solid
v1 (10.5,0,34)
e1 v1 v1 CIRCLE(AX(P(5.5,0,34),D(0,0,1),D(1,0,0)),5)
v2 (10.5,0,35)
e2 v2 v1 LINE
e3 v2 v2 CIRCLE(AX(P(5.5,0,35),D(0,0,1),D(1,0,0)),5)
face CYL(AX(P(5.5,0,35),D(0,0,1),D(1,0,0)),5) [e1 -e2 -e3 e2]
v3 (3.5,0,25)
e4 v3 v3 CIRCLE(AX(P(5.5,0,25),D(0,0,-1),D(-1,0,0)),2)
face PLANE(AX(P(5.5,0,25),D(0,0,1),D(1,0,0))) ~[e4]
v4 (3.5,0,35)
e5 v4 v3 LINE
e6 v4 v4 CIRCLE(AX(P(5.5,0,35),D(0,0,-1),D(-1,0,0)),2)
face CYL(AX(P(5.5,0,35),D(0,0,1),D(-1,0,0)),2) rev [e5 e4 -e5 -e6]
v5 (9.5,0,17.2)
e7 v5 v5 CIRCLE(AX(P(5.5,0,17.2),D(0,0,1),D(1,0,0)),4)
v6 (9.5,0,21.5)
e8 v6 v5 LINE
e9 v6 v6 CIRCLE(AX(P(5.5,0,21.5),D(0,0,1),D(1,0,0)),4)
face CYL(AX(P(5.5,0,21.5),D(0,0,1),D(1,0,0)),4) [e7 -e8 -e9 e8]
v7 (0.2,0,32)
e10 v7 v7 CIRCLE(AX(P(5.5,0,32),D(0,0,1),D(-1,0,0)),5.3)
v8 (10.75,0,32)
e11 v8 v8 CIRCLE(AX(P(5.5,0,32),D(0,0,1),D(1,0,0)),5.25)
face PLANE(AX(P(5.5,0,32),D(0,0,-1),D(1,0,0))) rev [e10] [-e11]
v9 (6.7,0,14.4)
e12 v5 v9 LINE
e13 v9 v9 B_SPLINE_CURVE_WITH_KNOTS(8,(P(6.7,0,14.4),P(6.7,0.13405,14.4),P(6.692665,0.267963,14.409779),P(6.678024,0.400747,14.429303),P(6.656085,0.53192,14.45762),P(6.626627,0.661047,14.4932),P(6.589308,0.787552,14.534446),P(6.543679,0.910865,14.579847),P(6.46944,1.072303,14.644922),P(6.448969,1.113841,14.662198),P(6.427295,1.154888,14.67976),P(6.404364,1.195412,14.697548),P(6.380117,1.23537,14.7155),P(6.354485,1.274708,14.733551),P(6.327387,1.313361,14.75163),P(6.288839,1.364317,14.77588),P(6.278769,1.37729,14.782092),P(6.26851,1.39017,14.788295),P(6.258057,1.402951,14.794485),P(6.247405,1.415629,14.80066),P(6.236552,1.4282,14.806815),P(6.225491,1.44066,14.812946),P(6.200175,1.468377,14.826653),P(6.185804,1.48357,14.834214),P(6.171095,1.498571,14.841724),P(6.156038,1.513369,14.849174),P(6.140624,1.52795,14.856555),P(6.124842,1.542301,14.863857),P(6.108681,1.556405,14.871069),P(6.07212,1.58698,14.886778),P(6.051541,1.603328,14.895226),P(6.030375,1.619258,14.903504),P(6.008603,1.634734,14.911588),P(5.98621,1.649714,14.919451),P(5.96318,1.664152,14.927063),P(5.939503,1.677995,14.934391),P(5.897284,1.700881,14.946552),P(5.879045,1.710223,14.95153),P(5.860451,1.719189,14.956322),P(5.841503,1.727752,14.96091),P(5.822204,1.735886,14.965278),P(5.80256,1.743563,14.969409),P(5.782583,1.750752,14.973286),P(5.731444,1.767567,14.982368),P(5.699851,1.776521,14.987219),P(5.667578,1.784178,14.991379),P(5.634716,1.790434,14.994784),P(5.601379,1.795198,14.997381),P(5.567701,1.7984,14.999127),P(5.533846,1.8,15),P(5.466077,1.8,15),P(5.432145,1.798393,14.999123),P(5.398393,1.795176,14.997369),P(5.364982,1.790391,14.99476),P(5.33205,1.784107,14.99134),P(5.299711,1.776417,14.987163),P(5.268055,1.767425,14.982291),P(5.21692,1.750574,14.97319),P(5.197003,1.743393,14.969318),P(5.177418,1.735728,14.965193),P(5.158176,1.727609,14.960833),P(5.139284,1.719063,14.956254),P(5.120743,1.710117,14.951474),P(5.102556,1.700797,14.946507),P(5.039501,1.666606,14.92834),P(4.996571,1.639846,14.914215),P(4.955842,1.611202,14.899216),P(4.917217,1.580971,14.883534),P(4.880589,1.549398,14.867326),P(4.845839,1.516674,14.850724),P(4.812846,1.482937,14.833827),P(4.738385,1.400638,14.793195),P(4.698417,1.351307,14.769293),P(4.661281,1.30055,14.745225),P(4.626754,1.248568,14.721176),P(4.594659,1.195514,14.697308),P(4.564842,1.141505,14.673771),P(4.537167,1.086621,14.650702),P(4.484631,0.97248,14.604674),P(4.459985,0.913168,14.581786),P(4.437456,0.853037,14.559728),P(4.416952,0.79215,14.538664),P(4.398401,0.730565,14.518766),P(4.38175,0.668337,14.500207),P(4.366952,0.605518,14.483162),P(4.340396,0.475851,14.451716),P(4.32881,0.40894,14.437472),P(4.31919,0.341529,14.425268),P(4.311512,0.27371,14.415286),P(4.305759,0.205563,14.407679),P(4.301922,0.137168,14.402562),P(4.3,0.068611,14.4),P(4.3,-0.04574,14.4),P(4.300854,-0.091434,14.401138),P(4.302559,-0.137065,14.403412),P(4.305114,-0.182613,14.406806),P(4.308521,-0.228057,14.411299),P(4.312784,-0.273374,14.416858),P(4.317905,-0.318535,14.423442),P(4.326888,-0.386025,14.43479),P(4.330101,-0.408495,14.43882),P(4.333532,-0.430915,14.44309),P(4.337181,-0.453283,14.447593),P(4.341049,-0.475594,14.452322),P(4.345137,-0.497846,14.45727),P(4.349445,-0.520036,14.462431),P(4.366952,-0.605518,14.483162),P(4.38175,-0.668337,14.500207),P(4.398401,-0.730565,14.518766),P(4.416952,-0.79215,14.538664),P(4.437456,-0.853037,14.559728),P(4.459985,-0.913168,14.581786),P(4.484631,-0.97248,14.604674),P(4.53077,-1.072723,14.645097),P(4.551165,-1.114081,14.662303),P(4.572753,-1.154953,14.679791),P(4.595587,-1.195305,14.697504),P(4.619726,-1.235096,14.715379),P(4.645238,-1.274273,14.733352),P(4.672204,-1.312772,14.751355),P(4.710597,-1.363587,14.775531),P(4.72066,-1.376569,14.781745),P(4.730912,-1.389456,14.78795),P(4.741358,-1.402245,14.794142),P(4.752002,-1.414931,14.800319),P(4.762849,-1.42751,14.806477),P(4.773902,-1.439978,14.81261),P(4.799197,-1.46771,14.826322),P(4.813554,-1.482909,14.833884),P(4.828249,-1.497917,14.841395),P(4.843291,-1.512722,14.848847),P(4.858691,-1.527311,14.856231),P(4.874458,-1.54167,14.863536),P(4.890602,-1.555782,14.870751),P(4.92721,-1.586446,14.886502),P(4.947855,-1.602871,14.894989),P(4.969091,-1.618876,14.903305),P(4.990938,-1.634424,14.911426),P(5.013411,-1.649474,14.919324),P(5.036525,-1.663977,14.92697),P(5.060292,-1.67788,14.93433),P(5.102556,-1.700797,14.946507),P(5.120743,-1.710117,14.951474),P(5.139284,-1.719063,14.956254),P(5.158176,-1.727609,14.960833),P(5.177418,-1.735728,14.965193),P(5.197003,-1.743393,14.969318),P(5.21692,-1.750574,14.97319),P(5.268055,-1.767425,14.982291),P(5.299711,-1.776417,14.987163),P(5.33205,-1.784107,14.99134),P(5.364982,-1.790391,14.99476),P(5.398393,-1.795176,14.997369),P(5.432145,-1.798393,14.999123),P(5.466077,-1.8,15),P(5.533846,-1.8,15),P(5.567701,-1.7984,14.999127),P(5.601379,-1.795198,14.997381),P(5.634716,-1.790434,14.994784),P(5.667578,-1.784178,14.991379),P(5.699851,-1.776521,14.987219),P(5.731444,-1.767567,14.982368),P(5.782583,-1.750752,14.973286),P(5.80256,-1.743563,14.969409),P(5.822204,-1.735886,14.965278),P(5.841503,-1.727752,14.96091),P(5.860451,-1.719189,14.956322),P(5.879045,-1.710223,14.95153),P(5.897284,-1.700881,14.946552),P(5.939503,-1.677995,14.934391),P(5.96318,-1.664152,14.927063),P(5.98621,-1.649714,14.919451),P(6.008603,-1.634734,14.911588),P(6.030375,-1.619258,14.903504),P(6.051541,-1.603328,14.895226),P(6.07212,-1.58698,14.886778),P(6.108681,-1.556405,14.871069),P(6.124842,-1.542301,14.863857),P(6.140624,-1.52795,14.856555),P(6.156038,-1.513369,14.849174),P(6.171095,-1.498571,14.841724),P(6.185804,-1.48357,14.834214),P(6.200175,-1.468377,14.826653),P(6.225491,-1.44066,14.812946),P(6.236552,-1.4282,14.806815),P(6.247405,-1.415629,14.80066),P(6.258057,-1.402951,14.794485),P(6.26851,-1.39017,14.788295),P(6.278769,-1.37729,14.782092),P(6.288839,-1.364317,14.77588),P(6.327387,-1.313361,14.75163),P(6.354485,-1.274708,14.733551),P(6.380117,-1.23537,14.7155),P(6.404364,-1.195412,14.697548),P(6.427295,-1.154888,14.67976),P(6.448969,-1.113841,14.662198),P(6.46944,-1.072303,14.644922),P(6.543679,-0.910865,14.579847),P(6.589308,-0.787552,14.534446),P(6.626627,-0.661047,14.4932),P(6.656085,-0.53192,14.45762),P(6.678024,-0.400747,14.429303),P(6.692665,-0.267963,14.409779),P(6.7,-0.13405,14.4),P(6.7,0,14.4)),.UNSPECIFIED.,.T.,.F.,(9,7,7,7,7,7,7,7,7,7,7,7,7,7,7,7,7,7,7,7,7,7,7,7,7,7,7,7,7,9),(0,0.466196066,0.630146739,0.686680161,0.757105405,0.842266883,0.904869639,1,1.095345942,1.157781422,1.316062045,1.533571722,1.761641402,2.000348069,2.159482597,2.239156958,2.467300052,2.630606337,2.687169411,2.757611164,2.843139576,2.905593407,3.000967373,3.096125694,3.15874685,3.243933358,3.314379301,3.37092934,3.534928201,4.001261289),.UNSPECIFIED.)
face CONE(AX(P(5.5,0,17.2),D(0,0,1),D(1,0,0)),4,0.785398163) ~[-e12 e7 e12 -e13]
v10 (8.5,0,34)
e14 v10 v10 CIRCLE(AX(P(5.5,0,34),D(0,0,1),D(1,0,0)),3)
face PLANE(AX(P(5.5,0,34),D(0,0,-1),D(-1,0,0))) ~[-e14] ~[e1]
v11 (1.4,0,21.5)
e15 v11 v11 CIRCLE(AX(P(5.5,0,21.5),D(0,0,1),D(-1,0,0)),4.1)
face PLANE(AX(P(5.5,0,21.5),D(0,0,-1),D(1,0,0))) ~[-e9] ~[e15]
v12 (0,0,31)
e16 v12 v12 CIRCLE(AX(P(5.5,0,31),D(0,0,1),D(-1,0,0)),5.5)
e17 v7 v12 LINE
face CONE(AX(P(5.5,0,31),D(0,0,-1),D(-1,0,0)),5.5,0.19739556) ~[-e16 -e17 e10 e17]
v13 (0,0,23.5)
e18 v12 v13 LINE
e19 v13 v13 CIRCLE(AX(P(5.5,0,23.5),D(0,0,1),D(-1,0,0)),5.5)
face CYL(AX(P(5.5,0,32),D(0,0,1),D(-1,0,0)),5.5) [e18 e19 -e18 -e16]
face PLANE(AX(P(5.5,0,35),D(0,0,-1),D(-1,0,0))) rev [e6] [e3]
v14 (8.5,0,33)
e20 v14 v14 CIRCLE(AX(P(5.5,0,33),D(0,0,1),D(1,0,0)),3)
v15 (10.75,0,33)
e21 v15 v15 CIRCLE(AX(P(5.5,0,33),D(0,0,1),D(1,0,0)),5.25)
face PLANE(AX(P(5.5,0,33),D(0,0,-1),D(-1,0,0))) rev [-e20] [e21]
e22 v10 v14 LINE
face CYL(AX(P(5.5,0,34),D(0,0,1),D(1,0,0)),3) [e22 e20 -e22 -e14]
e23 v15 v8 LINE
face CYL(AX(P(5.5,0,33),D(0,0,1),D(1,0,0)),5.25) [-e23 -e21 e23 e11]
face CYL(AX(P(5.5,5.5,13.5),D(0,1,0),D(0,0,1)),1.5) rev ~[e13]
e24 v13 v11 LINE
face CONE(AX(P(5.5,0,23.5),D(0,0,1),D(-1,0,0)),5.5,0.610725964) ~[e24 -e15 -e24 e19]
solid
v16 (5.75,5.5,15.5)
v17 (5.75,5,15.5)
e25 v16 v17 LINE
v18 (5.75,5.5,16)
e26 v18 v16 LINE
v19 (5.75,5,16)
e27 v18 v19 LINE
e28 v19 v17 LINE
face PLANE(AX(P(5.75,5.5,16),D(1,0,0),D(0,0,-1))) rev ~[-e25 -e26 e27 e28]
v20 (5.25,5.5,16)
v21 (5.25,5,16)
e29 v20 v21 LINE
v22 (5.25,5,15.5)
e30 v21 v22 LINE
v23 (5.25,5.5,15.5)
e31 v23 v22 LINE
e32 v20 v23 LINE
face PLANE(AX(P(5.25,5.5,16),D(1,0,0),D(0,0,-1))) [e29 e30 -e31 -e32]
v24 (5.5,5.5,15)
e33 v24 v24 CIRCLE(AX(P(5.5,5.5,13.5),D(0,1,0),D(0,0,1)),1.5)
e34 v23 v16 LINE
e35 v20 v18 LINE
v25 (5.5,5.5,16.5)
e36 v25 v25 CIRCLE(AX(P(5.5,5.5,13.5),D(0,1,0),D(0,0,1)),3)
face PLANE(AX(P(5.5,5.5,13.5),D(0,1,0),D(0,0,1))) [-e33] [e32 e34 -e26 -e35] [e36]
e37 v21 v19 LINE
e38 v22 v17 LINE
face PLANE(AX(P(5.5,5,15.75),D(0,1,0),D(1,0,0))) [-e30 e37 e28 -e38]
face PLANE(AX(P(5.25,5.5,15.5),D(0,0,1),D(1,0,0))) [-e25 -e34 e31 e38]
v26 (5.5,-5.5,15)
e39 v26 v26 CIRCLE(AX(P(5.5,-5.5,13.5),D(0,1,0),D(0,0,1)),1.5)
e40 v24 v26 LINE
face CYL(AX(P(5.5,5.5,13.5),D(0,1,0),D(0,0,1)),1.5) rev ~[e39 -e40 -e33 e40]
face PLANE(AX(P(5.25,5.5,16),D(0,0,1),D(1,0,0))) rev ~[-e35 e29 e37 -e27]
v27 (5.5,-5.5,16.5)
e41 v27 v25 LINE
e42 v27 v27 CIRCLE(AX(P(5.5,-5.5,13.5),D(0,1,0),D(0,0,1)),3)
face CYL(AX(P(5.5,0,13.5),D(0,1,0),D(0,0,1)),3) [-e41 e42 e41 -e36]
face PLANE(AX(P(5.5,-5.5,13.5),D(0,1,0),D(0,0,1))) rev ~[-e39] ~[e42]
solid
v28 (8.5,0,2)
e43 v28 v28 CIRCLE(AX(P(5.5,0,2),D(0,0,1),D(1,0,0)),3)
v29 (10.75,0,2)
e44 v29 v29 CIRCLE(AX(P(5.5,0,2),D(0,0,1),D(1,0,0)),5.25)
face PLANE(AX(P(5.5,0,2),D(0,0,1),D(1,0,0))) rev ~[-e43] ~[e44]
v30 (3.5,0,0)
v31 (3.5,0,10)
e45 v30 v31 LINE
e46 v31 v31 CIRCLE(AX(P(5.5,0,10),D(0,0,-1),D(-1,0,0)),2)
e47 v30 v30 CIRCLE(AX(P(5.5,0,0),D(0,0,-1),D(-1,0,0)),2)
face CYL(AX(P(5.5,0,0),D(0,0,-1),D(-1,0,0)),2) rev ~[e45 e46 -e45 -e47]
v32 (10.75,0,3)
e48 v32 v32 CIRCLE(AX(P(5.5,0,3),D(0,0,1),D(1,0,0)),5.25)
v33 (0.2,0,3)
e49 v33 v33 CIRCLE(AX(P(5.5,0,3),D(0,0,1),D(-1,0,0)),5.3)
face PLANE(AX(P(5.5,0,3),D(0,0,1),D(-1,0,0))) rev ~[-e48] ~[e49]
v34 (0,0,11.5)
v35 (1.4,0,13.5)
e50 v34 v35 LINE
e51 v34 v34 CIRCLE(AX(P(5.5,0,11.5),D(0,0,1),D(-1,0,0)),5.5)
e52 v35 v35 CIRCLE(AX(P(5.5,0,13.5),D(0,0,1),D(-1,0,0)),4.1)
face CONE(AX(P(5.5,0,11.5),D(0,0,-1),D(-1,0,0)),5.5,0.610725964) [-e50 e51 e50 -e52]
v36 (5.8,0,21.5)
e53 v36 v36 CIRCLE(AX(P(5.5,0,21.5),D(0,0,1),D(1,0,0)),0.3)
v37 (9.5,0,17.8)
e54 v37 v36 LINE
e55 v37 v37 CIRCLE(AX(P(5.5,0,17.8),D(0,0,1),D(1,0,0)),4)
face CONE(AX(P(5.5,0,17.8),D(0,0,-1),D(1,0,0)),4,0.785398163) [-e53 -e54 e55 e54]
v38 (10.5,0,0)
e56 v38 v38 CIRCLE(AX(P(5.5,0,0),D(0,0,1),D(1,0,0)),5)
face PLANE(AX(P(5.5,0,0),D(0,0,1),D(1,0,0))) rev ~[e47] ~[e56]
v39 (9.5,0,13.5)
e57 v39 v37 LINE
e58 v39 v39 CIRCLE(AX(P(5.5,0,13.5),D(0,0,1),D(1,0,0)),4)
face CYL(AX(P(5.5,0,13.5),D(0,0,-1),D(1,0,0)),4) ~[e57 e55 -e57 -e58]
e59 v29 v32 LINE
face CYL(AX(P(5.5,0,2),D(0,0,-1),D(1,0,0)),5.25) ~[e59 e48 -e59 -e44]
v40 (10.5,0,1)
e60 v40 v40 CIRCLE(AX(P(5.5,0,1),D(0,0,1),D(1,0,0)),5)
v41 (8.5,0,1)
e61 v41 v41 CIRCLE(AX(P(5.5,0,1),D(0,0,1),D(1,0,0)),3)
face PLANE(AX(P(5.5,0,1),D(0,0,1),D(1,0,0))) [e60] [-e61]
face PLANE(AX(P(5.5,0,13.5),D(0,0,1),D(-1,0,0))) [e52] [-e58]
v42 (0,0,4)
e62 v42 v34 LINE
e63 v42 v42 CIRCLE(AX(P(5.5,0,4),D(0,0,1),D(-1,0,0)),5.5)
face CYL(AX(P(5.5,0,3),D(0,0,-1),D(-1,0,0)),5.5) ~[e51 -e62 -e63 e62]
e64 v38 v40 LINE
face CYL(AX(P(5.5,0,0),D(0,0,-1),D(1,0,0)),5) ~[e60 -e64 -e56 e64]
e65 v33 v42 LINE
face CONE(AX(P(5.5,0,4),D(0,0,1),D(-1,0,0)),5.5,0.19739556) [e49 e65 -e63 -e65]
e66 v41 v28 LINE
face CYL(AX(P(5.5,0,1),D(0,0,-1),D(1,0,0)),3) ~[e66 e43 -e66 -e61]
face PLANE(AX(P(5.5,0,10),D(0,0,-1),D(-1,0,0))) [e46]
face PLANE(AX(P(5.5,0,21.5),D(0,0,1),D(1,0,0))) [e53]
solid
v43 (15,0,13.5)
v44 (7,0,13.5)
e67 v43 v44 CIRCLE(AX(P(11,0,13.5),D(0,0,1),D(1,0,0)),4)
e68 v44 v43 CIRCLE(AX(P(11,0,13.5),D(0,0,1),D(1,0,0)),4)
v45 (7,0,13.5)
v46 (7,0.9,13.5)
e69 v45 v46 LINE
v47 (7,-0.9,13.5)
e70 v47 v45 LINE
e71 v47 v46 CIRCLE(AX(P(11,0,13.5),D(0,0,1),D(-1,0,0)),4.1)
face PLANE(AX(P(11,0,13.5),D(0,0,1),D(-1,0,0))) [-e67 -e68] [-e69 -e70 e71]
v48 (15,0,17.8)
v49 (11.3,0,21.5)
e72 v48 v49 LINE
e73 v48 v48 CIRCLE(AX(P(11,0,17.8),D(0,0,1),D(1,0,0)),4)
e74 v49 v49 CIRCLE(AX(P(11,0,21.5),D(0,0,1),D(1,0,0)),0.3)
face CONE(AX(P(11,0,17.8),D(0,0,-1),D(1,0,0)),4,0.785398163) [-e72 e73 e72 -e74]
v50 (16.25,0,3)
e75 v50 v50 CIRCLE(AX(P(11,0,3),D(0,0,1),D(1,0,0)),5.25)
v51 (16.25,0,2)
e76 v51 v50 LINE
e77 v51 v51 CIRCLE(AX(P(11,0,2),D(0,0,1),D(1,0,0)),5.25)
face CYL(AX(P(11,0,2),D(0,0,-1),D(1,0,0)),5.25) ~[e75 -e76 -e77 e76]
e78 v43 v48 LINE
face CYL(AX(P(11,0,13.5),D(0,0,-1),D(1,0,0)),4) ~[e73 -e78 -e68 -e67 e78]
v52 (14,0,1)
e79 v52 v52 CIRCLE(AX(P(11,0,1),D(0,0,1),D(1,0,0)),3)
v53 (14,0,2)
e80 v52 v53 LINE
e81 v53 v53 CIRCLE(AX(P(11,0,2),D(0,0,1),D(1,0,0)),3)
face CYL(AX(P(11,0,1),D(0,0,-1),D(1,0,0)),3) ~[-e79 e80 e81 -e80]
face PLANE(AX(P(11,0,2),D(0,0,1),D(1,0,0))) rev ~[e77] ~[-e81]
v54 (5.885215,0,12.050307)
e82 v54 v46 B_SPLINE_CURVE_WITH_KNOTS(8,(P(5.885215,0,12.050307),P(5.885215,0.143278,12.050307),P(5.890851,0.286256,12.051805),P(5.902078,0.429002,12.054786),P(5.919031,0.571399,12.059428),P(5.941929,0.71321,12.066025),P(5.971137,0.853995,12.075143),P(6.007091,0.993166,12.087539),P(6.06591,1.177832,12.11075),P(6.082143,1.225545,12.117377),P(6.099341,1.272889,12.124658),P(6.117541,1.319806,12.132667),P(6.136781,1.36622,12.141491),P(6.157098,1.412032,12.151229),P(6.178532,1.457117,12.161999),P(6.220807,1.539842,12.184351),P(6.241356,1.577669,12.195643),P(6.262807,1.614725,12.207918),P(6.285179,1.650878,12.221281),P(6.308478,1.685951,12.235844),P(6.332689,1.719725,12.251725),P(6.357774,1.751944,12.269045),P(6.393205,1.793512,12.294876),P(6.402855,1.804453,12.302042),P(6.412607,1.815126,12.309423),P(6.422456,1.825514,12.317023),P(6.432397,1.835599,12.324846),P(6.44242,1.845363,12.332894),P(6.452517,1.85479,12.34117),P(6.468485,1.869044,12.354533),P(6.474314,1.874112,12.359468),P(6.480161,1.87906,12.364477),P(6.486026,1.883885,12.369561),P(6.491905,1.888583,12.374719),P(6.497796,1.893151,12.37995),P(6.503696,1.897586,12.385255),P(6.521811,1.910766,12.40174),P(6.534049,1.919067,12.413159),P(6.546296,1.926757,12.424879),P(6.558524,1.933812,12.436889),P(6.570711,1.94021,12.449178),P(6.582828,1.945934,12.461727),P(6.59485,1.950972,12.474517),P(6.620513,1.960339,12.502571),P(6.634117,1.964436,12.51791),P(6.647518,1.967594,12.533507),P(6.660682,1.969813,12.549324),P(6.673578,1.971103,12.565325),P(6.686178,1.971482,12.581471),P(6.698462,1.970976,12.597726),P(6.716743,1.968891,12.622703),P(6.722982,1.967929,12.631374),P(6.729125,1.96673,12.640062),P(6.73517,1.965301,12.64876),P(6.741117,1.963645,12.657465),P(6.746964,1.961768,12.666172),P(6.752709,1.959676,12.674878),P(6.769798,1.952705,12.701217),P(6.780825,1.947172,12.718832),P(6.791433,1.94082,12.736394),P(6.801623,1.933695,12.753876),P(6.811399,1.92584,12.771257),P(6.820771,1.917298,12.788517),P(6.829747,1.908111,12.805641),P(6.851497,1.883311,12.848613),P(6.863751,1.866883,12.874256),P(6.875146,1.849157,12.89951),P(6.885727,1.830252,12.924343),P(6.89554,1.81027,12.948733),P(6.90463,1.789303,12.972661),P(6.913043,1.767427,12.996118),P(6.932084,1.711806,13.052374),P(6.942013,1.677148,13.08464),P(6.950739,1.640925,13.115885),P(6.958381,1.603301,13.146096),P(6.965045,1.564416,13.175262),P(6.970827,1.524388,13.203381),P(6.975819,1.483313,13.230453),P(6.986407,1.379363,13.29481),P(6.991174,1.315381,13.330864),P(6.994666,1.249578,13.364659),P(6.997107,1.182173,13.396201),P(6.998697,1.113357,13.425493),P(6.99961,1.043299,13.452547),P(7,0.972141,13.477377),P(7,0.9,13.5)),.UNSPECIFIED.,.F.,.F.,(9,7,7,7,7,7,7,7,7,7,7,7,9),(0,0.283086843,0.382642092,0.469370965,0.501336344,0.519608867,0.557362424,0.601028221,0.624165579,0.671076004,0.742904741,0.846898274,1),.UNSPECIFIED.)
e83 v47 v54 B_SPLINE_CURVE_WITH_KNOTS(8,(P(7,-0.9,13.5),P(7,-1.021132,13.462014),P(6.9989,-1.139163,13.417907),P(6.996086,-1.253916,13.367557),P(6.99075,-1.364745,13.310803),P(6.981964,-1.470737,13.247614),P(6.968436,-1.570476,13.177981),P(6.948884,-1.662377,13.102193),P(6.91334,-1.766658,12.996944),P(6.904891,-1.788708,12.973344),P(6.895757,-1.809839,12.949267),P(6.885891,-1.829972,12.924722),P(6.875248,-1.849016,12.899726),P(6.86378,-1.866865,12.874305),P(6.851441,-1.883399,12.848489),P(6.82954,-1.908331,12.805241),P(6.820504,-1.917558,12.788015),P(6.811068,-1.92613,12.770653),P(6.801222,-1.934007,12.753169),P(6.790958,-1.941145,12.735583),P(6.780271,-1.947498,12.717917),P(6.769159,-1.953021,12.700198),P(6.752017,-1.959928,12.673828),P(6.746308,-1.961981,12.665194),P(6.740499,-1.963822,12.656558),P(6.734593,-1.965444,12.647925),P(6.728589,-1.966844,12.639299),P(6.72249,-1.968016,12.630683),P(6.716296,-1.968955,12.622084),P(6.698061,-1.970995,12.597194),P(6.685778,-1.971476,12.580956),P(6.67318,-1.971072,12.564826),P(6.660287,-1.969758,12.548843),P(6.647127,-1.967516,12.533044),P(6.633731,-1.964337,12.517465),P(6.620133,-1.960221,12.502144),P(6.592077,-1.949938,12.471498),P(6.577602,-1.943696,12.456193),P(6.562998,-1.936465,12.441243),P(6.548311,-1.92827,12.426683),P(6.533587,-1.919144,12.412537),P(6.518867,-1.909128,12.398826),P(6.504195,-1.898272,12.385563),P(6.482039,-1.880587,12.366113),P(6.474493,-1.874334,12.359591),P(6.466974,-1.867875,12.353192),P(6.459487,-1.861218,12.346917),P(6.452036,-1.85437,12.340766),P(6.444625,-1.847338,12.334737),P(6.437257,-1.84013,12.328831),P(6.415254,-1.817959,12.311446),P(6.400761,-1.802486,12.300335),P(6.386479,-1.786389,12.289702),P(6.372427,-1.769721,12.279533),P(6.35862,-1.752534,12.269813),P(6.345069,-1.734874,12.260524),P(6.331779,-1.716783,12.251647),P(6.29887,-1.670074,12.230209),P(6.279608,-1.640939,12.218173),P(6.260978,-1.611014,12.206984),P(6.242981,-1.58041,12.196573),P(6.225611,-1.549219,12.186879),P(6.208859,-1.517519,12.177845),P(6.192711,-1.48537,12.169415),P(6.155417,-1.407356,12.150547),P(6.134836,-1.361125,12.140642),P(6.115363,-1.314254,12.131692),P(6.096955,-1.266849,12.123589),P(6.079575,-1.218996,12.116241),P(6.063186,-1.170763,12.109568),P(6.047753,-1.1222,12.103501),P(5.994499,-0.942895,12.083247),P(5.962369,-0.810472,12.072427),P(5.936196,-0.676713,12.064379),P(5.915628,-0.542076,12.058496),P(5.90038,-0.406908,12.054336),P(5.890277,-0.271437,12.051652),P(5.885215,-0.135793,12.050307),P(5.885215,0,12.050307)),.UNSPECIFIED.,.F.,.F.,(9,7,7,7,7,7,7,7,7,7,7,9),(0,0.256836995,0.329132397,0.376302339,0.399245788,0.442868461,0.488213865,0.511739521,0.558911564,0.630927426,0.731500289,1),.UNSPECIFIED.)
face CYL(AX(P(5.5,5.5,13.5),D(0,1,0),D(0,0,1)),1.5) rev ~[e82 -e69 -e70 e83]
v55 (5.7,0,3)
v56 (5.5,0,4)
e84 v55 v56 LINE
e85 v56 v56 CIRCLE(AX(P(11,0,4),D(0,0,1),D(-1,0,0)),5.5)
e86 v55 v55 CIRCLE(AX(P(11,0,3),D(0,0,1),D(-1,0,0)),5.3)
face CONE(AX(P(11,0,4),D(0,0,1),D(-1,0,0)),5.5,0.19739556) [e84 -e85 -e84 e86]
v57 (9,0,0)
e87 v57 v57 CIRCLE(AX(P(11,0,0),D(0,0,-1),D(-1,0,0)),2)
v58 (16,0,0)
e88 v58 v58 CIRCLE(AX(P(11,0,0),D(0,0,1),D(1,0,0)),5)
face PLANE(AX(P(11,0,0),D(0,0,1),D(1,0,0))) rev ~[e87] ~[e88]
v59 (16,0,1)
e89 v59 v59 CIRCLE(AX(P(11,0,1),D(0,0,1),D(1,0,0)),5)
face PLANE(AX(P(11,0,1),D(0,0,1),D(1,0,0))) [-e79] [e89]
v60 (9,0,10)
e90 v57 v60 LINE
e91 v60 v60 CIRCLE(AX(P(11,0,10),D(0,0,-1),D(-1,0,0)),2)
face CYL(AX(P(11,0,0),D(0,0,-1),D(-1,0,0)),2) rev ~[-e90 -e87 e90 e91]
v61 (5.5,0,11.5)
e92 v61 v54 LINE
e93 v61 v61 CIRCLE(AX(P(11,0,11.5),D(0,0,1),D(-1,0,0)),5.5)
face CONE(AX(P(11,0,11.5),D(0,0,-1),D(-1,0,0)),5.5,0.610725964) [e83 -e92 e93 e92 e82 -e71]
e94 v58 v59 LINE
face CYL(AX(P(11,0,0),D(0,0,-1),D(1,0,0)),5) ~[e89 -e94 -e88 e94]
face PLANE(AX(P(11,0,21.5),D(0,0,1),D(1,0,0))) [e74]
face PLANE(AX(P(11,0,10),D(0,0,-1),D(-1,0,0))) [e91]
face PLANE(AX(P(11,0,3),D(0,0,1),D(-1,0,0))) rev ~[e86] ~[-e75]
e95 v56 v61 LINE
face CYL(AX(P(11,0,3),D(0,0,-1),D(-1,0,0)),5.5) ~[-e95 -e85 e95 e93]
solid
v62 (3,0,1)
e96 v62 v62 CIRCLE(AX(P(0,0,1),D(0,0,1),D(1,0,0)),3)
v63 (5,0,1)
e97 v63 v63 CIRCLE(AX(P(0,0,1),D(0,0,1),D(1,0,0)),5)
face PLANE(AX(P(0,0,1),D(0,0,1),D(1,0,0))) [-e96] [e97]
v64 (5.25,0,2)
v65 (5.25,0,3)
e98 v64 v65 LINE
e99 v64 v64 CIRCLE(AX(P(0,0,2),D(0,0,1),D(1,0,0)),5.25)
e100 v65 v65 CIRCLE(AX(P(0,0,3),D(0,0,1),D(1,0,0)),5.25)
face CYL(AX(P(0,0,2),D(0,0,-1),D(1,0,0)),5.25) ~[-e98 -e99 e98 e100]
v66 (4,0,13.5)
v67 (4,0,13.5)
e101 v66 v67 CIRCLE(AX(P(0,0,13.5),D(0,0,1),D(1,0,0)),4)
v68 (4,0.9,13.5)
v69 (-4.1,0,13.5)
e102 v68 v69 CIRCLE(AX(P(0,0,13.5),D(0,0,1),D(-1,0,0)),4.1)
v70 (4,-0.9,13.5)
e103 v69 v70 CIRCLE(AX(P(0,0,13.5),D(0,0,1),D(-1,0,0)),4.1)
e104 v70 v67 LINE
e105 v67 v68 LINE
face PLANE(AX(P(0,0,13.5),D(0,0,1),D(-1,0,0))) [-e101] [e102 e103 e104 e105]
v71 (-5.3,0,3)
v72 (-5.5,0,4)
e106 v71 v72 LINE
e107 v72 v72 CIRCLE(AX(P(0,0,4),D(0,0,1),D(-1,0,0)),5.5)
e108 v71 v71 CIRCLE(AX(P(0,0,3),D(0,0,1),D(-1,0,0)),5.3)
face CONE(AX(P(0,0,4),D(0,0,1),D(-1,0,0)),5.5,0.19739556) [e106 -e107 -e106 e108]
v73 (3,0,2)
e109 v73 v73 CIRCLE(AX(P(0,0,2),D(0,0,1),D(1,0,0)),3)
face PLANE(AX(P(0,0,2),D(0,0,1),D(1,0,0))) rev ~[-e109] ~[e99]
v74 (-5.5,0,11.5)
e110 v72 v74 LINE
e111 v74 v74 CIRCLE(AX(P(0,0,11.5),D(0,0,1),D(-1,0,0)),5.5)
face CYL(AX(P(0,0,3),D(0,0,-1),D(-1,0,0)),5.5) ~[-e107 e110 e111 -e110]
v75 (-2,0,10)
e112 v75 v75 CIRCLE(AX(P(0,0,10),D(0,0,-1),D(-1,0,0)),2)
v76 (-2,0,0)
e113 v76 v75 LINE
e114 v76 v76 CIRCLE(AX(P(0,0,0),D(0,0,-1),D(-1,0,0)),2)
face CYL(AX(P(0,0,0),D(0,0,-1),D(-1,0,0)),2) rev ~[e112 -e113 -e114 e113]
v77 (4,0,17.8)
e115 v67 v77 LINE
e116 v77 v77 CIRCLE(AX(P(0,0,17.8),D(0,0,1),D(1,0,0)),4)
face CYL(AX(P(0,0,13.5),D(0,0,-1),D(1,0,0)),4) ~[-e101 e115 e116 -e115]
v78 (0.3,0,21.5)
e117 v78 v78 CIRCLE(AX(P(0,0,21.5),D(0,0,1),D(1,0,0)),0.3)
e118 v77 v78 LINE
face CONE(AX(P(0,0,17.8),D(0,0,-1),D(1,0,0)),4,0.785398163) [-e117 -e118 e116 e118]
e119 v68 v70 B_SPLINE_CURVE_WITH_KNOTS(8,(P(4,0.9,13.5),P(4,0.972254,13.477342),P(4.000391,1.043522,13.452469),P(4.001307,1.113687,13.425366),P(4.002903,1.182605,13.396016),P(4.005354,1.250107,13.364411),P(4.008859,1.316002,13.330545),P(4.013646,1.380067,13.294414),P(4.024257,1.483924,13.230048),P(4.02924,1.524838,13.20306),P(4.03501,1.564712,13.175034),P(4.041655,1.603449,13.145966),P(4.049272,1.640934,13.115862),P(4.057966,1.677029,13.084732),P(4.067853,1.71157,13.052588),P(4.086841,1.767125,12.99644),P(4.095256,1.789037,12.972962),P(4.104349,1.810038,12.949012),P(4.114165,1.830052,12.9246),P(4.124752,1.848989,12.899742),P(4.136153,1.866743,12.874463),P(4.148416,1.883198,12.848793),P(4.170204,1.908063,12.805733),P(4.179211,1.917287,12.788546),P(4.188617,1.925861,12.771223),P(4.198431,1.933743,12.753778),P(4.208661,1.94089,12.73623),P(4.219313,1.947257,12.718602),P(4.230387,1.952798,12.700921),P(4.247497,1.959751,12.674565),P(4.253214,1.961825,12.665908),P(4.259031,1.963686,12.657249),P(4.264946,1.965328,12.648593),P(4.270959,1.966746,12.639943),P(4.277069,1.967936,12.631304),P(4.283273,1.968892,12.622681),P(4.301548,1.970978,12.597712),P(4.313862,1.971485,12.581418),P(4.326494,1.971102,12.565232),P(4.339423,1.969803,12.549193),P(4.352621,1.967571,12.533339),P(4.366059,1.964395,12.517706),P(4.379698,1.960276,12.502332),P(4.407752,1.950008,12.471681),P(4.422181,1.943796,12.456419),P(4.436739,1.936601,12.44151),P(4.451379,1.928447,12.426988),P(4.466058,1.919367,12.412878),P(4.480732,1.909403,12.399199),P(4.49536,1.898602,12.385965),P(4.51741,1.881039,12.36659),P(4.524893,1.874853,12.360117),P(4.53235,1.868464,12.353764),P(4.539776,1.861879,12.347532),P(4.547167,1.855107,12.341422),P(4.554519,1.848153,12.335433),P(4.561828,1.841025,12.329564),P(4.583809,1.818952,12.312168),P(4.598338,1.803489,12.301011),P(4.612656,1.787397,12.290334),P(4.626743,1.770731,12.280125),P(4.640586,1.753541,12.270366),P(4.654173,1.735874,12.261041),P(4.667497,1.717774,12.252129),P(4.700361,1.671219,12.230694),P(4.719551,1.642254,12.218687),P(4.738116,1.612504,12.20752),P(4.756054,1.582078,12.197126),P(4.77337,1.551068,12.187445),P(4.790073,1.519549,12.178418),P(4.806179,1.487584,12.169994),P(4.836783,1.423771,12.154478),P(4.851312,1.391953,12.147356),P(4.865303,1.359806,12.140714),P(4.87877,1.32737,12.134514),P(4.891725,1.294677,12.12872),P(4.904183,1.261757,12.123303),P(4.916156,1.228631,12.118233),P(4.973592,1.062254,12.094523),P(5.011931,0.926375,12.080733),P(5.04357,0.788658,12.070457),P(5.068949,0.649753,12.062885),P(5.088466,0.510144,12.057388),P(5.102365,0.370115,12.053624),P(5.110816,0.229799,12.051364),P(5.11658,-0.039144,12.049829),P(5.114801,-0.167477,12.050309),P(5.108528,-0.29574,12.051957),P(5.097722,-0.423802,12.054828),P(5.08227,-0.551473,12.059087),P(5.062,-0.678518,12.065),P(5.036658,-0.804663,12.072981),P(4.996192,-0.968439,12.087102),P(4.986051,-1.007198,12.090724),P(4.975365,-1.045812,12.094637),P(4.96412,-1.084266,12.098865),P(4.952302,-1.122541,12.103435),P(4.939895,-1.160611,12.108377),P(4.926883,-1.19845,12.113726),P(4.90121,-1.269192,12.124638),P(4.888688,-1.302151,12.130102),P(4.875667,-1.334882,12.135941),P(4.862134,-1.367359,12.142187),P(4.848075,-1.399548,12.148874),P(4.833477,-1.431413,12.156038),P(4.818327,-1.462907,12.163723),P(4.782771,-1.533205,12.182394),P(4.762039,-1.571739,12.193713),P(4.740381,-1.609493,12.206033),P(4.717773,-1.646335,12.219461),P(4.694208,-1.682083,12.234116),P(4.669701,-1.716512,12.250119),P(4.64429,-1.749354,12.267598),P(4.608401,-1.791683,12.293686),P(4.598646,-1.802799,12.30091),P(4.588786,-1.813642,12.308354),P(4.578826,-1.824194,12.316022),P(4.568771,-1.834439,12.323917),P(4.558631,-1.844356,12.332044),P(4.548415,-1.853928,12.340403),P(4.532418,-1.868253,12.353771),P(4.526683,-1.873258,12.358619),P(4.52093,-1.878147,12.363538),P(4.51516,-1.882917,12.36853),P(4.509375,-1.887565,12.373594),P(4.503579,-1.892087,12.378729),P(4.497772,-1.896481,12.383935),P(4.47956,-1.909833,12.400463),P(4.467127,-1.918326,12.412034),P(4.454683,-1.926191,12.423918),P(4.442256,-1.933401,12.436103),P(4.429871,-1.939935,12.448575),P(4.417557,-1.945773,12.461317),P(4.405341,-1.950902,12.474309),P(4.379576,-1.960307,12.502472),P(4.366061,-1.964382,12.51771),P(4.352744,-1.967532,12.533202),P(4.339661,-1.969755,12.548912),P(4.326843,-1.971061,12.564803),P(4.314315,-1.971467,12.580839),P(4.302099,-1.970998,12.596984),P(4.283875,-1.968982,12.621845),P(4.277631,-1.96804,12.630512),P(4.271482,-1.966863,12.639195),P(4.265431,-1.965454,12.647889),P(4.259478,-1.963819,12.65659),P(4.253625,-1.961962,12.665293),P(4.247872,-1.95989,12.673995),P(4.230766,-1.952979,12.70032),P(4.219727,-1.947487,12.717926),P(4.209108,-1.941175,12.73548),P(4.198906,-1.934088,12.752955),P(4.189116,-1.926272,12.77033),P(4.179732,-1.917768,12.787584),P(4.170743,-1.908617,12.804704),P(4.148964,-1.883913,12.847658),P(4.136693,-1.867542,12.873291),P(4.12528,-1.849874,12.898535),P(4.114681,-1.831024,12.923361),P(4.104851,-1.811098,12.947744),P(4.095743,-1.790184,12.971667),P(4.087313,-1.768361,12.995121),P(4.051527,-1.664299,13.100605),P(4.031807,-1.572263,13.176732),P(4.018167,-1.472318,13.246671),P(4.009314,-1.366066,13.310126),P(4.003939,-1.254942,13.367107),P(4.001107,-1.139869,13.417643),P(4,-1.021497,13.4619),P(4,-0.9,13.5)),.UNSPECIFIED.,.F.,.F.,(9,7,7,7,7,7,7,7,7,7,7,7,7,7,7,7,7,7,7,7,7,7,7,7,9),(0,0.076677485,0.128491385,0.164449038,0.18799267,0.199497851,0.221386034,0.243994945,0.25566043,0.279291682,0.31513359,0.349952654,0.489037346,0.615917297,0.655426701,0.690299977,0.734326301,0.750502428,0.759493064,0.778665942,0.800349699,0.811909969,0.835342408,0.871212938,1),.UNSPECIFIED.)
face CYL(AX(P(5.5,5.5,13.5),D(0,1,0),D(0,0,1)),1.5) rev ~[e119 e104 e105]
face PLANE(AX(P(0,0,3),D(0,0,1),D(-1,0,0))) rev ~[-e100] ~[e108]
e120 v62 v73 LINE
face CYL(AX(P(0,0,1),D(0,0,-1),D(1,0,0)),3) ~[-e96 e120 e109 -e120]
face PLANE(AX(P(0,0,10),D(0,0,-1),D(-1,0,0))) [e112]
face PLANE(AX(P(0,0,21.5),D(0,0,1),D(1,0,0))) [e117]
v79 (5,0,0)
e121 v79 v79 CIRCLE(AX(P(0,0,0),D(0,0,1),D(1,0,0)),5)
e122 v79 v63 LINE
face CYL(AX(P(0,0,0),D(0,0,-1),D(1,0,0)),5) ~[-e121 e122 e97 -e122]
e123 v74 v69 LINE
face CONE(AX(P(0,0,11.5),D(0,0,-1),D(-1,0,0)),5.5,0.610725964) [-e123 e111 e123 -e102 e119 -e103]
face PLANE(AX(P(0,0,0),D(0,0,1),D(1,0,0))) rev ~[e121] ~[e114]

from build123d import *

# Parameters (mm, degrees)
SKETCH1_R           = 5
BOSS_EXTRUDE1_DEPTH = 1
SKETCH3_R           = 3
BOSS_EXTRUDE2_DEPTH = 1
SKETCH4_R           = 5.25
BOSS_EXTRUDE3_DEPTH = 1
SKETCH5_R           = 5.5
BOSS_EXTRUDE4_DEPTH = 10.5
SKETCH6_R           = 4
BOSS_EXTRUDE5_DEPTH = 8
CHAMFER1_SIZE       = 0.2
CHAMFER1_SIZE2      = 1
CHAMFER2_SIZE       = 2
CHAMFER2_SIZE2      = 1.4
CHAMFER3_SIZE       = 3.7
SKETCH11_R          = 2
CUT_EXTRUDE2_DEPTH  = 10
LPATTERN1_COUNT     = 3
LPATTERN1_PITCH     = 5.5
SKETCH8_R           = 3
BOSS_EXTRUDE7_DEPTH = 5.5
SKETCH9_R           = 1.5
CUT_EXTRUDE1_DEPTH  = 41.227478171
SKETCH12_W          = 0.5
SKETCH12_H          = 0.5
CUT_EXTRUDE3_DEPTH  = 0.5


with BuildPart() as part:
    # Sketch1 → Boss-Extrude1 (new body)
    with BuildSketch(Plane.XY):
        Circle(SKETCH1_R)
    extrude(amount=BOSS_EXTRUDE1_DEPTH)

    # Sketch3 → Boss-Extrude2 (add)
    with BuildSketch(Plane.XY.offset(1)):
        Circle(SKETCH3_R)
    extrude(amount=BOSS_EXTRUDE2_DEPTH)

    # Sketch4 → Boss-Extrude3 (add)
    with BuildSketch(Plane.XY.offset(2)):
        Circle(SKETCH4_R)
    extrude(amount=BOSS_EXTRUDE3_DEPTH)

    # Sketch5 → Boss-Extrude4 (add)
    with BuildSketch(Plane.XY.offset(3)):
        with Locations(Location((0, 0, 0), (0, 0, 180))):
            Circle(SKETCH5_R)
    extrude(amount=BOSS_EXTRUDE4_DEPTH)

    # Sketch6 → Boss-Extrude5 (add)
    with BuildSketch(Plane.XY.offset(13.5)):
        Circle(SKETCH6_R)
    extrude(amount=BOSS_EXTRUDE5_DEPTH)

    # Chamfer1
    chamfer1_edges = [part.edges().sort_by_distance(p)[0] for p in [
        (5.5, 0, 3),
    ]]
    chamfer1_side = [part.faces().sort_by_distance(p)[0] for p in [
        (5.344436508, 0, 3),
    ]]
    chamfer(chamfer1_edges, length=CHAMFER1_SIZE, length2=CHAMFER1_SIZE2, reference=chamfer1_side[0])

    # Chamfer2
    chamfer2_edges = [part.edges().sort_by_distance(p)[0] for p in [
        (5.5, 0, 13.5),
    ]]
    chamfer2_side = [part.faces().sort_by_distance(p)[0] for p in [
        (5.5, 0, 8.75),
    ]]
    chamfer(chamfer2_edges, length=CHAMFER2_SIZE, length2=CHAMFER2_SIZE2, reference=chamfer2_side[0])

    # Chamfer3
    chamfer3_edges = [part.edges().sort_by_distance(p)[0] for p in [
        (-4, 0, 21.5),
    ]]
    chamfer(chamfer3_edges, length=CHAMFER3_SIZE)

    # Sketch11 → Cut-Extrude2 (cut)
    with BuildSketch(Plane(origin=(0, 0, 0), x_dir=(-1, 0, 0), z_dir=(0, 0, -1))):
        Circle(SKETCH11_R)
    extrude(amount=-CUT_EXTRUDE2_DEPTH, mode=Mode.SUBTRACT)


with BuildPart() as lpattern1_1:
    # LPattern1: pattern copy
    add(part.part.moved(Location(Vector(1, 0, 0) * (1 * LPATTERN1_PITCH))))


with BuildPart() as lpattern1_2:
    # LPattern1: pattern copy
    add(part.part.moved(Location(Vector(1, 0, 0) * (2 * LPATTERN1_PITCH))))


with BuildPart() as body_4:
    # Mirror1: mirrored copy
    add(lpattern1_1.part.mirror(Plane.XY.offset(17.5)))


with BuildPart() as body_5:
    # Sketch8 → Boss-Extrude7 (new, symmetric)
    with BuildSketch(Plane(origin=(0, 0, 0), x_dir=(1, 0, 0), z_dir=(0, 1, 0))):
        with Locations(Location((5.5, -13.5, 0), (0, 0, 270))):
            Circle(SKETCH8_R)
    extrude(amount=BOSS_EXTRUDE7_DEPTH, both=True)


with BuildPart() as cut_extrude1_tool:
    # Sketch9 → Cut-Extrude1 (new, through all)
    with BuildSketch(Plane(origin=(0, 5.5, 0), x_dir=(1, 0, 0), z_dir=(0, 1, 0))):
        with Locations(Location((5.5, -13.5, 0), (0, 0, 270))):
            Circle(SKETCH9_R)
    extrude(amount=-CUT_EXTRUDE1_DEPTH)


with BuildPart() as part_1:
    add(part.part)

    # Cut-Extrude1: cut by cut_extrude1_tool
    add(cut_extrude1_tool.part, mode=Mode.SUBTRACT)


with BuildPart() as lpattern1_2_1:
    add(lpattern1_2.part)

    # Cut-Extrude1: cut by cut_extrude1_tool
    add(cut_extrude1_tool.part, mode=Mode.SUBTRACT)


with BuildPart() as body_4_1:
    add(body_4.part)

    # Cut-Extrude1: cut by cut_extrude1_tool
    add(cut_extrude1_tool.part, mode=Mode.SUBTRACT)


with BuildPart() as body_5_1:
    add(body_5.part)

    # Cut-Extrude1: cut by cut_extrude1_tool
    add(cut_extrude1_tool.part, mode=Mode.SUBTRACT)

    # Sketch12 → Cut-Extrude3 (cut)
    with BuildSketch(Plane(origin=(0, 5.5, 0), x_dir=(1, 0, 0), z_dir=(0, 1, 0))):
        with Locations((5.5, -15.75)):
            Rectangle(SKETCH12_W, SKETCH12_H)
    extrude(amount=-CUT_EXTRUDE3_DEPTH, mode=Mode.SUBTRACT)


solid = Compound([lpattern1_1.part, part_1.part, lpattern1_2_1.part, body_4_1.part, body_5_1.part])
